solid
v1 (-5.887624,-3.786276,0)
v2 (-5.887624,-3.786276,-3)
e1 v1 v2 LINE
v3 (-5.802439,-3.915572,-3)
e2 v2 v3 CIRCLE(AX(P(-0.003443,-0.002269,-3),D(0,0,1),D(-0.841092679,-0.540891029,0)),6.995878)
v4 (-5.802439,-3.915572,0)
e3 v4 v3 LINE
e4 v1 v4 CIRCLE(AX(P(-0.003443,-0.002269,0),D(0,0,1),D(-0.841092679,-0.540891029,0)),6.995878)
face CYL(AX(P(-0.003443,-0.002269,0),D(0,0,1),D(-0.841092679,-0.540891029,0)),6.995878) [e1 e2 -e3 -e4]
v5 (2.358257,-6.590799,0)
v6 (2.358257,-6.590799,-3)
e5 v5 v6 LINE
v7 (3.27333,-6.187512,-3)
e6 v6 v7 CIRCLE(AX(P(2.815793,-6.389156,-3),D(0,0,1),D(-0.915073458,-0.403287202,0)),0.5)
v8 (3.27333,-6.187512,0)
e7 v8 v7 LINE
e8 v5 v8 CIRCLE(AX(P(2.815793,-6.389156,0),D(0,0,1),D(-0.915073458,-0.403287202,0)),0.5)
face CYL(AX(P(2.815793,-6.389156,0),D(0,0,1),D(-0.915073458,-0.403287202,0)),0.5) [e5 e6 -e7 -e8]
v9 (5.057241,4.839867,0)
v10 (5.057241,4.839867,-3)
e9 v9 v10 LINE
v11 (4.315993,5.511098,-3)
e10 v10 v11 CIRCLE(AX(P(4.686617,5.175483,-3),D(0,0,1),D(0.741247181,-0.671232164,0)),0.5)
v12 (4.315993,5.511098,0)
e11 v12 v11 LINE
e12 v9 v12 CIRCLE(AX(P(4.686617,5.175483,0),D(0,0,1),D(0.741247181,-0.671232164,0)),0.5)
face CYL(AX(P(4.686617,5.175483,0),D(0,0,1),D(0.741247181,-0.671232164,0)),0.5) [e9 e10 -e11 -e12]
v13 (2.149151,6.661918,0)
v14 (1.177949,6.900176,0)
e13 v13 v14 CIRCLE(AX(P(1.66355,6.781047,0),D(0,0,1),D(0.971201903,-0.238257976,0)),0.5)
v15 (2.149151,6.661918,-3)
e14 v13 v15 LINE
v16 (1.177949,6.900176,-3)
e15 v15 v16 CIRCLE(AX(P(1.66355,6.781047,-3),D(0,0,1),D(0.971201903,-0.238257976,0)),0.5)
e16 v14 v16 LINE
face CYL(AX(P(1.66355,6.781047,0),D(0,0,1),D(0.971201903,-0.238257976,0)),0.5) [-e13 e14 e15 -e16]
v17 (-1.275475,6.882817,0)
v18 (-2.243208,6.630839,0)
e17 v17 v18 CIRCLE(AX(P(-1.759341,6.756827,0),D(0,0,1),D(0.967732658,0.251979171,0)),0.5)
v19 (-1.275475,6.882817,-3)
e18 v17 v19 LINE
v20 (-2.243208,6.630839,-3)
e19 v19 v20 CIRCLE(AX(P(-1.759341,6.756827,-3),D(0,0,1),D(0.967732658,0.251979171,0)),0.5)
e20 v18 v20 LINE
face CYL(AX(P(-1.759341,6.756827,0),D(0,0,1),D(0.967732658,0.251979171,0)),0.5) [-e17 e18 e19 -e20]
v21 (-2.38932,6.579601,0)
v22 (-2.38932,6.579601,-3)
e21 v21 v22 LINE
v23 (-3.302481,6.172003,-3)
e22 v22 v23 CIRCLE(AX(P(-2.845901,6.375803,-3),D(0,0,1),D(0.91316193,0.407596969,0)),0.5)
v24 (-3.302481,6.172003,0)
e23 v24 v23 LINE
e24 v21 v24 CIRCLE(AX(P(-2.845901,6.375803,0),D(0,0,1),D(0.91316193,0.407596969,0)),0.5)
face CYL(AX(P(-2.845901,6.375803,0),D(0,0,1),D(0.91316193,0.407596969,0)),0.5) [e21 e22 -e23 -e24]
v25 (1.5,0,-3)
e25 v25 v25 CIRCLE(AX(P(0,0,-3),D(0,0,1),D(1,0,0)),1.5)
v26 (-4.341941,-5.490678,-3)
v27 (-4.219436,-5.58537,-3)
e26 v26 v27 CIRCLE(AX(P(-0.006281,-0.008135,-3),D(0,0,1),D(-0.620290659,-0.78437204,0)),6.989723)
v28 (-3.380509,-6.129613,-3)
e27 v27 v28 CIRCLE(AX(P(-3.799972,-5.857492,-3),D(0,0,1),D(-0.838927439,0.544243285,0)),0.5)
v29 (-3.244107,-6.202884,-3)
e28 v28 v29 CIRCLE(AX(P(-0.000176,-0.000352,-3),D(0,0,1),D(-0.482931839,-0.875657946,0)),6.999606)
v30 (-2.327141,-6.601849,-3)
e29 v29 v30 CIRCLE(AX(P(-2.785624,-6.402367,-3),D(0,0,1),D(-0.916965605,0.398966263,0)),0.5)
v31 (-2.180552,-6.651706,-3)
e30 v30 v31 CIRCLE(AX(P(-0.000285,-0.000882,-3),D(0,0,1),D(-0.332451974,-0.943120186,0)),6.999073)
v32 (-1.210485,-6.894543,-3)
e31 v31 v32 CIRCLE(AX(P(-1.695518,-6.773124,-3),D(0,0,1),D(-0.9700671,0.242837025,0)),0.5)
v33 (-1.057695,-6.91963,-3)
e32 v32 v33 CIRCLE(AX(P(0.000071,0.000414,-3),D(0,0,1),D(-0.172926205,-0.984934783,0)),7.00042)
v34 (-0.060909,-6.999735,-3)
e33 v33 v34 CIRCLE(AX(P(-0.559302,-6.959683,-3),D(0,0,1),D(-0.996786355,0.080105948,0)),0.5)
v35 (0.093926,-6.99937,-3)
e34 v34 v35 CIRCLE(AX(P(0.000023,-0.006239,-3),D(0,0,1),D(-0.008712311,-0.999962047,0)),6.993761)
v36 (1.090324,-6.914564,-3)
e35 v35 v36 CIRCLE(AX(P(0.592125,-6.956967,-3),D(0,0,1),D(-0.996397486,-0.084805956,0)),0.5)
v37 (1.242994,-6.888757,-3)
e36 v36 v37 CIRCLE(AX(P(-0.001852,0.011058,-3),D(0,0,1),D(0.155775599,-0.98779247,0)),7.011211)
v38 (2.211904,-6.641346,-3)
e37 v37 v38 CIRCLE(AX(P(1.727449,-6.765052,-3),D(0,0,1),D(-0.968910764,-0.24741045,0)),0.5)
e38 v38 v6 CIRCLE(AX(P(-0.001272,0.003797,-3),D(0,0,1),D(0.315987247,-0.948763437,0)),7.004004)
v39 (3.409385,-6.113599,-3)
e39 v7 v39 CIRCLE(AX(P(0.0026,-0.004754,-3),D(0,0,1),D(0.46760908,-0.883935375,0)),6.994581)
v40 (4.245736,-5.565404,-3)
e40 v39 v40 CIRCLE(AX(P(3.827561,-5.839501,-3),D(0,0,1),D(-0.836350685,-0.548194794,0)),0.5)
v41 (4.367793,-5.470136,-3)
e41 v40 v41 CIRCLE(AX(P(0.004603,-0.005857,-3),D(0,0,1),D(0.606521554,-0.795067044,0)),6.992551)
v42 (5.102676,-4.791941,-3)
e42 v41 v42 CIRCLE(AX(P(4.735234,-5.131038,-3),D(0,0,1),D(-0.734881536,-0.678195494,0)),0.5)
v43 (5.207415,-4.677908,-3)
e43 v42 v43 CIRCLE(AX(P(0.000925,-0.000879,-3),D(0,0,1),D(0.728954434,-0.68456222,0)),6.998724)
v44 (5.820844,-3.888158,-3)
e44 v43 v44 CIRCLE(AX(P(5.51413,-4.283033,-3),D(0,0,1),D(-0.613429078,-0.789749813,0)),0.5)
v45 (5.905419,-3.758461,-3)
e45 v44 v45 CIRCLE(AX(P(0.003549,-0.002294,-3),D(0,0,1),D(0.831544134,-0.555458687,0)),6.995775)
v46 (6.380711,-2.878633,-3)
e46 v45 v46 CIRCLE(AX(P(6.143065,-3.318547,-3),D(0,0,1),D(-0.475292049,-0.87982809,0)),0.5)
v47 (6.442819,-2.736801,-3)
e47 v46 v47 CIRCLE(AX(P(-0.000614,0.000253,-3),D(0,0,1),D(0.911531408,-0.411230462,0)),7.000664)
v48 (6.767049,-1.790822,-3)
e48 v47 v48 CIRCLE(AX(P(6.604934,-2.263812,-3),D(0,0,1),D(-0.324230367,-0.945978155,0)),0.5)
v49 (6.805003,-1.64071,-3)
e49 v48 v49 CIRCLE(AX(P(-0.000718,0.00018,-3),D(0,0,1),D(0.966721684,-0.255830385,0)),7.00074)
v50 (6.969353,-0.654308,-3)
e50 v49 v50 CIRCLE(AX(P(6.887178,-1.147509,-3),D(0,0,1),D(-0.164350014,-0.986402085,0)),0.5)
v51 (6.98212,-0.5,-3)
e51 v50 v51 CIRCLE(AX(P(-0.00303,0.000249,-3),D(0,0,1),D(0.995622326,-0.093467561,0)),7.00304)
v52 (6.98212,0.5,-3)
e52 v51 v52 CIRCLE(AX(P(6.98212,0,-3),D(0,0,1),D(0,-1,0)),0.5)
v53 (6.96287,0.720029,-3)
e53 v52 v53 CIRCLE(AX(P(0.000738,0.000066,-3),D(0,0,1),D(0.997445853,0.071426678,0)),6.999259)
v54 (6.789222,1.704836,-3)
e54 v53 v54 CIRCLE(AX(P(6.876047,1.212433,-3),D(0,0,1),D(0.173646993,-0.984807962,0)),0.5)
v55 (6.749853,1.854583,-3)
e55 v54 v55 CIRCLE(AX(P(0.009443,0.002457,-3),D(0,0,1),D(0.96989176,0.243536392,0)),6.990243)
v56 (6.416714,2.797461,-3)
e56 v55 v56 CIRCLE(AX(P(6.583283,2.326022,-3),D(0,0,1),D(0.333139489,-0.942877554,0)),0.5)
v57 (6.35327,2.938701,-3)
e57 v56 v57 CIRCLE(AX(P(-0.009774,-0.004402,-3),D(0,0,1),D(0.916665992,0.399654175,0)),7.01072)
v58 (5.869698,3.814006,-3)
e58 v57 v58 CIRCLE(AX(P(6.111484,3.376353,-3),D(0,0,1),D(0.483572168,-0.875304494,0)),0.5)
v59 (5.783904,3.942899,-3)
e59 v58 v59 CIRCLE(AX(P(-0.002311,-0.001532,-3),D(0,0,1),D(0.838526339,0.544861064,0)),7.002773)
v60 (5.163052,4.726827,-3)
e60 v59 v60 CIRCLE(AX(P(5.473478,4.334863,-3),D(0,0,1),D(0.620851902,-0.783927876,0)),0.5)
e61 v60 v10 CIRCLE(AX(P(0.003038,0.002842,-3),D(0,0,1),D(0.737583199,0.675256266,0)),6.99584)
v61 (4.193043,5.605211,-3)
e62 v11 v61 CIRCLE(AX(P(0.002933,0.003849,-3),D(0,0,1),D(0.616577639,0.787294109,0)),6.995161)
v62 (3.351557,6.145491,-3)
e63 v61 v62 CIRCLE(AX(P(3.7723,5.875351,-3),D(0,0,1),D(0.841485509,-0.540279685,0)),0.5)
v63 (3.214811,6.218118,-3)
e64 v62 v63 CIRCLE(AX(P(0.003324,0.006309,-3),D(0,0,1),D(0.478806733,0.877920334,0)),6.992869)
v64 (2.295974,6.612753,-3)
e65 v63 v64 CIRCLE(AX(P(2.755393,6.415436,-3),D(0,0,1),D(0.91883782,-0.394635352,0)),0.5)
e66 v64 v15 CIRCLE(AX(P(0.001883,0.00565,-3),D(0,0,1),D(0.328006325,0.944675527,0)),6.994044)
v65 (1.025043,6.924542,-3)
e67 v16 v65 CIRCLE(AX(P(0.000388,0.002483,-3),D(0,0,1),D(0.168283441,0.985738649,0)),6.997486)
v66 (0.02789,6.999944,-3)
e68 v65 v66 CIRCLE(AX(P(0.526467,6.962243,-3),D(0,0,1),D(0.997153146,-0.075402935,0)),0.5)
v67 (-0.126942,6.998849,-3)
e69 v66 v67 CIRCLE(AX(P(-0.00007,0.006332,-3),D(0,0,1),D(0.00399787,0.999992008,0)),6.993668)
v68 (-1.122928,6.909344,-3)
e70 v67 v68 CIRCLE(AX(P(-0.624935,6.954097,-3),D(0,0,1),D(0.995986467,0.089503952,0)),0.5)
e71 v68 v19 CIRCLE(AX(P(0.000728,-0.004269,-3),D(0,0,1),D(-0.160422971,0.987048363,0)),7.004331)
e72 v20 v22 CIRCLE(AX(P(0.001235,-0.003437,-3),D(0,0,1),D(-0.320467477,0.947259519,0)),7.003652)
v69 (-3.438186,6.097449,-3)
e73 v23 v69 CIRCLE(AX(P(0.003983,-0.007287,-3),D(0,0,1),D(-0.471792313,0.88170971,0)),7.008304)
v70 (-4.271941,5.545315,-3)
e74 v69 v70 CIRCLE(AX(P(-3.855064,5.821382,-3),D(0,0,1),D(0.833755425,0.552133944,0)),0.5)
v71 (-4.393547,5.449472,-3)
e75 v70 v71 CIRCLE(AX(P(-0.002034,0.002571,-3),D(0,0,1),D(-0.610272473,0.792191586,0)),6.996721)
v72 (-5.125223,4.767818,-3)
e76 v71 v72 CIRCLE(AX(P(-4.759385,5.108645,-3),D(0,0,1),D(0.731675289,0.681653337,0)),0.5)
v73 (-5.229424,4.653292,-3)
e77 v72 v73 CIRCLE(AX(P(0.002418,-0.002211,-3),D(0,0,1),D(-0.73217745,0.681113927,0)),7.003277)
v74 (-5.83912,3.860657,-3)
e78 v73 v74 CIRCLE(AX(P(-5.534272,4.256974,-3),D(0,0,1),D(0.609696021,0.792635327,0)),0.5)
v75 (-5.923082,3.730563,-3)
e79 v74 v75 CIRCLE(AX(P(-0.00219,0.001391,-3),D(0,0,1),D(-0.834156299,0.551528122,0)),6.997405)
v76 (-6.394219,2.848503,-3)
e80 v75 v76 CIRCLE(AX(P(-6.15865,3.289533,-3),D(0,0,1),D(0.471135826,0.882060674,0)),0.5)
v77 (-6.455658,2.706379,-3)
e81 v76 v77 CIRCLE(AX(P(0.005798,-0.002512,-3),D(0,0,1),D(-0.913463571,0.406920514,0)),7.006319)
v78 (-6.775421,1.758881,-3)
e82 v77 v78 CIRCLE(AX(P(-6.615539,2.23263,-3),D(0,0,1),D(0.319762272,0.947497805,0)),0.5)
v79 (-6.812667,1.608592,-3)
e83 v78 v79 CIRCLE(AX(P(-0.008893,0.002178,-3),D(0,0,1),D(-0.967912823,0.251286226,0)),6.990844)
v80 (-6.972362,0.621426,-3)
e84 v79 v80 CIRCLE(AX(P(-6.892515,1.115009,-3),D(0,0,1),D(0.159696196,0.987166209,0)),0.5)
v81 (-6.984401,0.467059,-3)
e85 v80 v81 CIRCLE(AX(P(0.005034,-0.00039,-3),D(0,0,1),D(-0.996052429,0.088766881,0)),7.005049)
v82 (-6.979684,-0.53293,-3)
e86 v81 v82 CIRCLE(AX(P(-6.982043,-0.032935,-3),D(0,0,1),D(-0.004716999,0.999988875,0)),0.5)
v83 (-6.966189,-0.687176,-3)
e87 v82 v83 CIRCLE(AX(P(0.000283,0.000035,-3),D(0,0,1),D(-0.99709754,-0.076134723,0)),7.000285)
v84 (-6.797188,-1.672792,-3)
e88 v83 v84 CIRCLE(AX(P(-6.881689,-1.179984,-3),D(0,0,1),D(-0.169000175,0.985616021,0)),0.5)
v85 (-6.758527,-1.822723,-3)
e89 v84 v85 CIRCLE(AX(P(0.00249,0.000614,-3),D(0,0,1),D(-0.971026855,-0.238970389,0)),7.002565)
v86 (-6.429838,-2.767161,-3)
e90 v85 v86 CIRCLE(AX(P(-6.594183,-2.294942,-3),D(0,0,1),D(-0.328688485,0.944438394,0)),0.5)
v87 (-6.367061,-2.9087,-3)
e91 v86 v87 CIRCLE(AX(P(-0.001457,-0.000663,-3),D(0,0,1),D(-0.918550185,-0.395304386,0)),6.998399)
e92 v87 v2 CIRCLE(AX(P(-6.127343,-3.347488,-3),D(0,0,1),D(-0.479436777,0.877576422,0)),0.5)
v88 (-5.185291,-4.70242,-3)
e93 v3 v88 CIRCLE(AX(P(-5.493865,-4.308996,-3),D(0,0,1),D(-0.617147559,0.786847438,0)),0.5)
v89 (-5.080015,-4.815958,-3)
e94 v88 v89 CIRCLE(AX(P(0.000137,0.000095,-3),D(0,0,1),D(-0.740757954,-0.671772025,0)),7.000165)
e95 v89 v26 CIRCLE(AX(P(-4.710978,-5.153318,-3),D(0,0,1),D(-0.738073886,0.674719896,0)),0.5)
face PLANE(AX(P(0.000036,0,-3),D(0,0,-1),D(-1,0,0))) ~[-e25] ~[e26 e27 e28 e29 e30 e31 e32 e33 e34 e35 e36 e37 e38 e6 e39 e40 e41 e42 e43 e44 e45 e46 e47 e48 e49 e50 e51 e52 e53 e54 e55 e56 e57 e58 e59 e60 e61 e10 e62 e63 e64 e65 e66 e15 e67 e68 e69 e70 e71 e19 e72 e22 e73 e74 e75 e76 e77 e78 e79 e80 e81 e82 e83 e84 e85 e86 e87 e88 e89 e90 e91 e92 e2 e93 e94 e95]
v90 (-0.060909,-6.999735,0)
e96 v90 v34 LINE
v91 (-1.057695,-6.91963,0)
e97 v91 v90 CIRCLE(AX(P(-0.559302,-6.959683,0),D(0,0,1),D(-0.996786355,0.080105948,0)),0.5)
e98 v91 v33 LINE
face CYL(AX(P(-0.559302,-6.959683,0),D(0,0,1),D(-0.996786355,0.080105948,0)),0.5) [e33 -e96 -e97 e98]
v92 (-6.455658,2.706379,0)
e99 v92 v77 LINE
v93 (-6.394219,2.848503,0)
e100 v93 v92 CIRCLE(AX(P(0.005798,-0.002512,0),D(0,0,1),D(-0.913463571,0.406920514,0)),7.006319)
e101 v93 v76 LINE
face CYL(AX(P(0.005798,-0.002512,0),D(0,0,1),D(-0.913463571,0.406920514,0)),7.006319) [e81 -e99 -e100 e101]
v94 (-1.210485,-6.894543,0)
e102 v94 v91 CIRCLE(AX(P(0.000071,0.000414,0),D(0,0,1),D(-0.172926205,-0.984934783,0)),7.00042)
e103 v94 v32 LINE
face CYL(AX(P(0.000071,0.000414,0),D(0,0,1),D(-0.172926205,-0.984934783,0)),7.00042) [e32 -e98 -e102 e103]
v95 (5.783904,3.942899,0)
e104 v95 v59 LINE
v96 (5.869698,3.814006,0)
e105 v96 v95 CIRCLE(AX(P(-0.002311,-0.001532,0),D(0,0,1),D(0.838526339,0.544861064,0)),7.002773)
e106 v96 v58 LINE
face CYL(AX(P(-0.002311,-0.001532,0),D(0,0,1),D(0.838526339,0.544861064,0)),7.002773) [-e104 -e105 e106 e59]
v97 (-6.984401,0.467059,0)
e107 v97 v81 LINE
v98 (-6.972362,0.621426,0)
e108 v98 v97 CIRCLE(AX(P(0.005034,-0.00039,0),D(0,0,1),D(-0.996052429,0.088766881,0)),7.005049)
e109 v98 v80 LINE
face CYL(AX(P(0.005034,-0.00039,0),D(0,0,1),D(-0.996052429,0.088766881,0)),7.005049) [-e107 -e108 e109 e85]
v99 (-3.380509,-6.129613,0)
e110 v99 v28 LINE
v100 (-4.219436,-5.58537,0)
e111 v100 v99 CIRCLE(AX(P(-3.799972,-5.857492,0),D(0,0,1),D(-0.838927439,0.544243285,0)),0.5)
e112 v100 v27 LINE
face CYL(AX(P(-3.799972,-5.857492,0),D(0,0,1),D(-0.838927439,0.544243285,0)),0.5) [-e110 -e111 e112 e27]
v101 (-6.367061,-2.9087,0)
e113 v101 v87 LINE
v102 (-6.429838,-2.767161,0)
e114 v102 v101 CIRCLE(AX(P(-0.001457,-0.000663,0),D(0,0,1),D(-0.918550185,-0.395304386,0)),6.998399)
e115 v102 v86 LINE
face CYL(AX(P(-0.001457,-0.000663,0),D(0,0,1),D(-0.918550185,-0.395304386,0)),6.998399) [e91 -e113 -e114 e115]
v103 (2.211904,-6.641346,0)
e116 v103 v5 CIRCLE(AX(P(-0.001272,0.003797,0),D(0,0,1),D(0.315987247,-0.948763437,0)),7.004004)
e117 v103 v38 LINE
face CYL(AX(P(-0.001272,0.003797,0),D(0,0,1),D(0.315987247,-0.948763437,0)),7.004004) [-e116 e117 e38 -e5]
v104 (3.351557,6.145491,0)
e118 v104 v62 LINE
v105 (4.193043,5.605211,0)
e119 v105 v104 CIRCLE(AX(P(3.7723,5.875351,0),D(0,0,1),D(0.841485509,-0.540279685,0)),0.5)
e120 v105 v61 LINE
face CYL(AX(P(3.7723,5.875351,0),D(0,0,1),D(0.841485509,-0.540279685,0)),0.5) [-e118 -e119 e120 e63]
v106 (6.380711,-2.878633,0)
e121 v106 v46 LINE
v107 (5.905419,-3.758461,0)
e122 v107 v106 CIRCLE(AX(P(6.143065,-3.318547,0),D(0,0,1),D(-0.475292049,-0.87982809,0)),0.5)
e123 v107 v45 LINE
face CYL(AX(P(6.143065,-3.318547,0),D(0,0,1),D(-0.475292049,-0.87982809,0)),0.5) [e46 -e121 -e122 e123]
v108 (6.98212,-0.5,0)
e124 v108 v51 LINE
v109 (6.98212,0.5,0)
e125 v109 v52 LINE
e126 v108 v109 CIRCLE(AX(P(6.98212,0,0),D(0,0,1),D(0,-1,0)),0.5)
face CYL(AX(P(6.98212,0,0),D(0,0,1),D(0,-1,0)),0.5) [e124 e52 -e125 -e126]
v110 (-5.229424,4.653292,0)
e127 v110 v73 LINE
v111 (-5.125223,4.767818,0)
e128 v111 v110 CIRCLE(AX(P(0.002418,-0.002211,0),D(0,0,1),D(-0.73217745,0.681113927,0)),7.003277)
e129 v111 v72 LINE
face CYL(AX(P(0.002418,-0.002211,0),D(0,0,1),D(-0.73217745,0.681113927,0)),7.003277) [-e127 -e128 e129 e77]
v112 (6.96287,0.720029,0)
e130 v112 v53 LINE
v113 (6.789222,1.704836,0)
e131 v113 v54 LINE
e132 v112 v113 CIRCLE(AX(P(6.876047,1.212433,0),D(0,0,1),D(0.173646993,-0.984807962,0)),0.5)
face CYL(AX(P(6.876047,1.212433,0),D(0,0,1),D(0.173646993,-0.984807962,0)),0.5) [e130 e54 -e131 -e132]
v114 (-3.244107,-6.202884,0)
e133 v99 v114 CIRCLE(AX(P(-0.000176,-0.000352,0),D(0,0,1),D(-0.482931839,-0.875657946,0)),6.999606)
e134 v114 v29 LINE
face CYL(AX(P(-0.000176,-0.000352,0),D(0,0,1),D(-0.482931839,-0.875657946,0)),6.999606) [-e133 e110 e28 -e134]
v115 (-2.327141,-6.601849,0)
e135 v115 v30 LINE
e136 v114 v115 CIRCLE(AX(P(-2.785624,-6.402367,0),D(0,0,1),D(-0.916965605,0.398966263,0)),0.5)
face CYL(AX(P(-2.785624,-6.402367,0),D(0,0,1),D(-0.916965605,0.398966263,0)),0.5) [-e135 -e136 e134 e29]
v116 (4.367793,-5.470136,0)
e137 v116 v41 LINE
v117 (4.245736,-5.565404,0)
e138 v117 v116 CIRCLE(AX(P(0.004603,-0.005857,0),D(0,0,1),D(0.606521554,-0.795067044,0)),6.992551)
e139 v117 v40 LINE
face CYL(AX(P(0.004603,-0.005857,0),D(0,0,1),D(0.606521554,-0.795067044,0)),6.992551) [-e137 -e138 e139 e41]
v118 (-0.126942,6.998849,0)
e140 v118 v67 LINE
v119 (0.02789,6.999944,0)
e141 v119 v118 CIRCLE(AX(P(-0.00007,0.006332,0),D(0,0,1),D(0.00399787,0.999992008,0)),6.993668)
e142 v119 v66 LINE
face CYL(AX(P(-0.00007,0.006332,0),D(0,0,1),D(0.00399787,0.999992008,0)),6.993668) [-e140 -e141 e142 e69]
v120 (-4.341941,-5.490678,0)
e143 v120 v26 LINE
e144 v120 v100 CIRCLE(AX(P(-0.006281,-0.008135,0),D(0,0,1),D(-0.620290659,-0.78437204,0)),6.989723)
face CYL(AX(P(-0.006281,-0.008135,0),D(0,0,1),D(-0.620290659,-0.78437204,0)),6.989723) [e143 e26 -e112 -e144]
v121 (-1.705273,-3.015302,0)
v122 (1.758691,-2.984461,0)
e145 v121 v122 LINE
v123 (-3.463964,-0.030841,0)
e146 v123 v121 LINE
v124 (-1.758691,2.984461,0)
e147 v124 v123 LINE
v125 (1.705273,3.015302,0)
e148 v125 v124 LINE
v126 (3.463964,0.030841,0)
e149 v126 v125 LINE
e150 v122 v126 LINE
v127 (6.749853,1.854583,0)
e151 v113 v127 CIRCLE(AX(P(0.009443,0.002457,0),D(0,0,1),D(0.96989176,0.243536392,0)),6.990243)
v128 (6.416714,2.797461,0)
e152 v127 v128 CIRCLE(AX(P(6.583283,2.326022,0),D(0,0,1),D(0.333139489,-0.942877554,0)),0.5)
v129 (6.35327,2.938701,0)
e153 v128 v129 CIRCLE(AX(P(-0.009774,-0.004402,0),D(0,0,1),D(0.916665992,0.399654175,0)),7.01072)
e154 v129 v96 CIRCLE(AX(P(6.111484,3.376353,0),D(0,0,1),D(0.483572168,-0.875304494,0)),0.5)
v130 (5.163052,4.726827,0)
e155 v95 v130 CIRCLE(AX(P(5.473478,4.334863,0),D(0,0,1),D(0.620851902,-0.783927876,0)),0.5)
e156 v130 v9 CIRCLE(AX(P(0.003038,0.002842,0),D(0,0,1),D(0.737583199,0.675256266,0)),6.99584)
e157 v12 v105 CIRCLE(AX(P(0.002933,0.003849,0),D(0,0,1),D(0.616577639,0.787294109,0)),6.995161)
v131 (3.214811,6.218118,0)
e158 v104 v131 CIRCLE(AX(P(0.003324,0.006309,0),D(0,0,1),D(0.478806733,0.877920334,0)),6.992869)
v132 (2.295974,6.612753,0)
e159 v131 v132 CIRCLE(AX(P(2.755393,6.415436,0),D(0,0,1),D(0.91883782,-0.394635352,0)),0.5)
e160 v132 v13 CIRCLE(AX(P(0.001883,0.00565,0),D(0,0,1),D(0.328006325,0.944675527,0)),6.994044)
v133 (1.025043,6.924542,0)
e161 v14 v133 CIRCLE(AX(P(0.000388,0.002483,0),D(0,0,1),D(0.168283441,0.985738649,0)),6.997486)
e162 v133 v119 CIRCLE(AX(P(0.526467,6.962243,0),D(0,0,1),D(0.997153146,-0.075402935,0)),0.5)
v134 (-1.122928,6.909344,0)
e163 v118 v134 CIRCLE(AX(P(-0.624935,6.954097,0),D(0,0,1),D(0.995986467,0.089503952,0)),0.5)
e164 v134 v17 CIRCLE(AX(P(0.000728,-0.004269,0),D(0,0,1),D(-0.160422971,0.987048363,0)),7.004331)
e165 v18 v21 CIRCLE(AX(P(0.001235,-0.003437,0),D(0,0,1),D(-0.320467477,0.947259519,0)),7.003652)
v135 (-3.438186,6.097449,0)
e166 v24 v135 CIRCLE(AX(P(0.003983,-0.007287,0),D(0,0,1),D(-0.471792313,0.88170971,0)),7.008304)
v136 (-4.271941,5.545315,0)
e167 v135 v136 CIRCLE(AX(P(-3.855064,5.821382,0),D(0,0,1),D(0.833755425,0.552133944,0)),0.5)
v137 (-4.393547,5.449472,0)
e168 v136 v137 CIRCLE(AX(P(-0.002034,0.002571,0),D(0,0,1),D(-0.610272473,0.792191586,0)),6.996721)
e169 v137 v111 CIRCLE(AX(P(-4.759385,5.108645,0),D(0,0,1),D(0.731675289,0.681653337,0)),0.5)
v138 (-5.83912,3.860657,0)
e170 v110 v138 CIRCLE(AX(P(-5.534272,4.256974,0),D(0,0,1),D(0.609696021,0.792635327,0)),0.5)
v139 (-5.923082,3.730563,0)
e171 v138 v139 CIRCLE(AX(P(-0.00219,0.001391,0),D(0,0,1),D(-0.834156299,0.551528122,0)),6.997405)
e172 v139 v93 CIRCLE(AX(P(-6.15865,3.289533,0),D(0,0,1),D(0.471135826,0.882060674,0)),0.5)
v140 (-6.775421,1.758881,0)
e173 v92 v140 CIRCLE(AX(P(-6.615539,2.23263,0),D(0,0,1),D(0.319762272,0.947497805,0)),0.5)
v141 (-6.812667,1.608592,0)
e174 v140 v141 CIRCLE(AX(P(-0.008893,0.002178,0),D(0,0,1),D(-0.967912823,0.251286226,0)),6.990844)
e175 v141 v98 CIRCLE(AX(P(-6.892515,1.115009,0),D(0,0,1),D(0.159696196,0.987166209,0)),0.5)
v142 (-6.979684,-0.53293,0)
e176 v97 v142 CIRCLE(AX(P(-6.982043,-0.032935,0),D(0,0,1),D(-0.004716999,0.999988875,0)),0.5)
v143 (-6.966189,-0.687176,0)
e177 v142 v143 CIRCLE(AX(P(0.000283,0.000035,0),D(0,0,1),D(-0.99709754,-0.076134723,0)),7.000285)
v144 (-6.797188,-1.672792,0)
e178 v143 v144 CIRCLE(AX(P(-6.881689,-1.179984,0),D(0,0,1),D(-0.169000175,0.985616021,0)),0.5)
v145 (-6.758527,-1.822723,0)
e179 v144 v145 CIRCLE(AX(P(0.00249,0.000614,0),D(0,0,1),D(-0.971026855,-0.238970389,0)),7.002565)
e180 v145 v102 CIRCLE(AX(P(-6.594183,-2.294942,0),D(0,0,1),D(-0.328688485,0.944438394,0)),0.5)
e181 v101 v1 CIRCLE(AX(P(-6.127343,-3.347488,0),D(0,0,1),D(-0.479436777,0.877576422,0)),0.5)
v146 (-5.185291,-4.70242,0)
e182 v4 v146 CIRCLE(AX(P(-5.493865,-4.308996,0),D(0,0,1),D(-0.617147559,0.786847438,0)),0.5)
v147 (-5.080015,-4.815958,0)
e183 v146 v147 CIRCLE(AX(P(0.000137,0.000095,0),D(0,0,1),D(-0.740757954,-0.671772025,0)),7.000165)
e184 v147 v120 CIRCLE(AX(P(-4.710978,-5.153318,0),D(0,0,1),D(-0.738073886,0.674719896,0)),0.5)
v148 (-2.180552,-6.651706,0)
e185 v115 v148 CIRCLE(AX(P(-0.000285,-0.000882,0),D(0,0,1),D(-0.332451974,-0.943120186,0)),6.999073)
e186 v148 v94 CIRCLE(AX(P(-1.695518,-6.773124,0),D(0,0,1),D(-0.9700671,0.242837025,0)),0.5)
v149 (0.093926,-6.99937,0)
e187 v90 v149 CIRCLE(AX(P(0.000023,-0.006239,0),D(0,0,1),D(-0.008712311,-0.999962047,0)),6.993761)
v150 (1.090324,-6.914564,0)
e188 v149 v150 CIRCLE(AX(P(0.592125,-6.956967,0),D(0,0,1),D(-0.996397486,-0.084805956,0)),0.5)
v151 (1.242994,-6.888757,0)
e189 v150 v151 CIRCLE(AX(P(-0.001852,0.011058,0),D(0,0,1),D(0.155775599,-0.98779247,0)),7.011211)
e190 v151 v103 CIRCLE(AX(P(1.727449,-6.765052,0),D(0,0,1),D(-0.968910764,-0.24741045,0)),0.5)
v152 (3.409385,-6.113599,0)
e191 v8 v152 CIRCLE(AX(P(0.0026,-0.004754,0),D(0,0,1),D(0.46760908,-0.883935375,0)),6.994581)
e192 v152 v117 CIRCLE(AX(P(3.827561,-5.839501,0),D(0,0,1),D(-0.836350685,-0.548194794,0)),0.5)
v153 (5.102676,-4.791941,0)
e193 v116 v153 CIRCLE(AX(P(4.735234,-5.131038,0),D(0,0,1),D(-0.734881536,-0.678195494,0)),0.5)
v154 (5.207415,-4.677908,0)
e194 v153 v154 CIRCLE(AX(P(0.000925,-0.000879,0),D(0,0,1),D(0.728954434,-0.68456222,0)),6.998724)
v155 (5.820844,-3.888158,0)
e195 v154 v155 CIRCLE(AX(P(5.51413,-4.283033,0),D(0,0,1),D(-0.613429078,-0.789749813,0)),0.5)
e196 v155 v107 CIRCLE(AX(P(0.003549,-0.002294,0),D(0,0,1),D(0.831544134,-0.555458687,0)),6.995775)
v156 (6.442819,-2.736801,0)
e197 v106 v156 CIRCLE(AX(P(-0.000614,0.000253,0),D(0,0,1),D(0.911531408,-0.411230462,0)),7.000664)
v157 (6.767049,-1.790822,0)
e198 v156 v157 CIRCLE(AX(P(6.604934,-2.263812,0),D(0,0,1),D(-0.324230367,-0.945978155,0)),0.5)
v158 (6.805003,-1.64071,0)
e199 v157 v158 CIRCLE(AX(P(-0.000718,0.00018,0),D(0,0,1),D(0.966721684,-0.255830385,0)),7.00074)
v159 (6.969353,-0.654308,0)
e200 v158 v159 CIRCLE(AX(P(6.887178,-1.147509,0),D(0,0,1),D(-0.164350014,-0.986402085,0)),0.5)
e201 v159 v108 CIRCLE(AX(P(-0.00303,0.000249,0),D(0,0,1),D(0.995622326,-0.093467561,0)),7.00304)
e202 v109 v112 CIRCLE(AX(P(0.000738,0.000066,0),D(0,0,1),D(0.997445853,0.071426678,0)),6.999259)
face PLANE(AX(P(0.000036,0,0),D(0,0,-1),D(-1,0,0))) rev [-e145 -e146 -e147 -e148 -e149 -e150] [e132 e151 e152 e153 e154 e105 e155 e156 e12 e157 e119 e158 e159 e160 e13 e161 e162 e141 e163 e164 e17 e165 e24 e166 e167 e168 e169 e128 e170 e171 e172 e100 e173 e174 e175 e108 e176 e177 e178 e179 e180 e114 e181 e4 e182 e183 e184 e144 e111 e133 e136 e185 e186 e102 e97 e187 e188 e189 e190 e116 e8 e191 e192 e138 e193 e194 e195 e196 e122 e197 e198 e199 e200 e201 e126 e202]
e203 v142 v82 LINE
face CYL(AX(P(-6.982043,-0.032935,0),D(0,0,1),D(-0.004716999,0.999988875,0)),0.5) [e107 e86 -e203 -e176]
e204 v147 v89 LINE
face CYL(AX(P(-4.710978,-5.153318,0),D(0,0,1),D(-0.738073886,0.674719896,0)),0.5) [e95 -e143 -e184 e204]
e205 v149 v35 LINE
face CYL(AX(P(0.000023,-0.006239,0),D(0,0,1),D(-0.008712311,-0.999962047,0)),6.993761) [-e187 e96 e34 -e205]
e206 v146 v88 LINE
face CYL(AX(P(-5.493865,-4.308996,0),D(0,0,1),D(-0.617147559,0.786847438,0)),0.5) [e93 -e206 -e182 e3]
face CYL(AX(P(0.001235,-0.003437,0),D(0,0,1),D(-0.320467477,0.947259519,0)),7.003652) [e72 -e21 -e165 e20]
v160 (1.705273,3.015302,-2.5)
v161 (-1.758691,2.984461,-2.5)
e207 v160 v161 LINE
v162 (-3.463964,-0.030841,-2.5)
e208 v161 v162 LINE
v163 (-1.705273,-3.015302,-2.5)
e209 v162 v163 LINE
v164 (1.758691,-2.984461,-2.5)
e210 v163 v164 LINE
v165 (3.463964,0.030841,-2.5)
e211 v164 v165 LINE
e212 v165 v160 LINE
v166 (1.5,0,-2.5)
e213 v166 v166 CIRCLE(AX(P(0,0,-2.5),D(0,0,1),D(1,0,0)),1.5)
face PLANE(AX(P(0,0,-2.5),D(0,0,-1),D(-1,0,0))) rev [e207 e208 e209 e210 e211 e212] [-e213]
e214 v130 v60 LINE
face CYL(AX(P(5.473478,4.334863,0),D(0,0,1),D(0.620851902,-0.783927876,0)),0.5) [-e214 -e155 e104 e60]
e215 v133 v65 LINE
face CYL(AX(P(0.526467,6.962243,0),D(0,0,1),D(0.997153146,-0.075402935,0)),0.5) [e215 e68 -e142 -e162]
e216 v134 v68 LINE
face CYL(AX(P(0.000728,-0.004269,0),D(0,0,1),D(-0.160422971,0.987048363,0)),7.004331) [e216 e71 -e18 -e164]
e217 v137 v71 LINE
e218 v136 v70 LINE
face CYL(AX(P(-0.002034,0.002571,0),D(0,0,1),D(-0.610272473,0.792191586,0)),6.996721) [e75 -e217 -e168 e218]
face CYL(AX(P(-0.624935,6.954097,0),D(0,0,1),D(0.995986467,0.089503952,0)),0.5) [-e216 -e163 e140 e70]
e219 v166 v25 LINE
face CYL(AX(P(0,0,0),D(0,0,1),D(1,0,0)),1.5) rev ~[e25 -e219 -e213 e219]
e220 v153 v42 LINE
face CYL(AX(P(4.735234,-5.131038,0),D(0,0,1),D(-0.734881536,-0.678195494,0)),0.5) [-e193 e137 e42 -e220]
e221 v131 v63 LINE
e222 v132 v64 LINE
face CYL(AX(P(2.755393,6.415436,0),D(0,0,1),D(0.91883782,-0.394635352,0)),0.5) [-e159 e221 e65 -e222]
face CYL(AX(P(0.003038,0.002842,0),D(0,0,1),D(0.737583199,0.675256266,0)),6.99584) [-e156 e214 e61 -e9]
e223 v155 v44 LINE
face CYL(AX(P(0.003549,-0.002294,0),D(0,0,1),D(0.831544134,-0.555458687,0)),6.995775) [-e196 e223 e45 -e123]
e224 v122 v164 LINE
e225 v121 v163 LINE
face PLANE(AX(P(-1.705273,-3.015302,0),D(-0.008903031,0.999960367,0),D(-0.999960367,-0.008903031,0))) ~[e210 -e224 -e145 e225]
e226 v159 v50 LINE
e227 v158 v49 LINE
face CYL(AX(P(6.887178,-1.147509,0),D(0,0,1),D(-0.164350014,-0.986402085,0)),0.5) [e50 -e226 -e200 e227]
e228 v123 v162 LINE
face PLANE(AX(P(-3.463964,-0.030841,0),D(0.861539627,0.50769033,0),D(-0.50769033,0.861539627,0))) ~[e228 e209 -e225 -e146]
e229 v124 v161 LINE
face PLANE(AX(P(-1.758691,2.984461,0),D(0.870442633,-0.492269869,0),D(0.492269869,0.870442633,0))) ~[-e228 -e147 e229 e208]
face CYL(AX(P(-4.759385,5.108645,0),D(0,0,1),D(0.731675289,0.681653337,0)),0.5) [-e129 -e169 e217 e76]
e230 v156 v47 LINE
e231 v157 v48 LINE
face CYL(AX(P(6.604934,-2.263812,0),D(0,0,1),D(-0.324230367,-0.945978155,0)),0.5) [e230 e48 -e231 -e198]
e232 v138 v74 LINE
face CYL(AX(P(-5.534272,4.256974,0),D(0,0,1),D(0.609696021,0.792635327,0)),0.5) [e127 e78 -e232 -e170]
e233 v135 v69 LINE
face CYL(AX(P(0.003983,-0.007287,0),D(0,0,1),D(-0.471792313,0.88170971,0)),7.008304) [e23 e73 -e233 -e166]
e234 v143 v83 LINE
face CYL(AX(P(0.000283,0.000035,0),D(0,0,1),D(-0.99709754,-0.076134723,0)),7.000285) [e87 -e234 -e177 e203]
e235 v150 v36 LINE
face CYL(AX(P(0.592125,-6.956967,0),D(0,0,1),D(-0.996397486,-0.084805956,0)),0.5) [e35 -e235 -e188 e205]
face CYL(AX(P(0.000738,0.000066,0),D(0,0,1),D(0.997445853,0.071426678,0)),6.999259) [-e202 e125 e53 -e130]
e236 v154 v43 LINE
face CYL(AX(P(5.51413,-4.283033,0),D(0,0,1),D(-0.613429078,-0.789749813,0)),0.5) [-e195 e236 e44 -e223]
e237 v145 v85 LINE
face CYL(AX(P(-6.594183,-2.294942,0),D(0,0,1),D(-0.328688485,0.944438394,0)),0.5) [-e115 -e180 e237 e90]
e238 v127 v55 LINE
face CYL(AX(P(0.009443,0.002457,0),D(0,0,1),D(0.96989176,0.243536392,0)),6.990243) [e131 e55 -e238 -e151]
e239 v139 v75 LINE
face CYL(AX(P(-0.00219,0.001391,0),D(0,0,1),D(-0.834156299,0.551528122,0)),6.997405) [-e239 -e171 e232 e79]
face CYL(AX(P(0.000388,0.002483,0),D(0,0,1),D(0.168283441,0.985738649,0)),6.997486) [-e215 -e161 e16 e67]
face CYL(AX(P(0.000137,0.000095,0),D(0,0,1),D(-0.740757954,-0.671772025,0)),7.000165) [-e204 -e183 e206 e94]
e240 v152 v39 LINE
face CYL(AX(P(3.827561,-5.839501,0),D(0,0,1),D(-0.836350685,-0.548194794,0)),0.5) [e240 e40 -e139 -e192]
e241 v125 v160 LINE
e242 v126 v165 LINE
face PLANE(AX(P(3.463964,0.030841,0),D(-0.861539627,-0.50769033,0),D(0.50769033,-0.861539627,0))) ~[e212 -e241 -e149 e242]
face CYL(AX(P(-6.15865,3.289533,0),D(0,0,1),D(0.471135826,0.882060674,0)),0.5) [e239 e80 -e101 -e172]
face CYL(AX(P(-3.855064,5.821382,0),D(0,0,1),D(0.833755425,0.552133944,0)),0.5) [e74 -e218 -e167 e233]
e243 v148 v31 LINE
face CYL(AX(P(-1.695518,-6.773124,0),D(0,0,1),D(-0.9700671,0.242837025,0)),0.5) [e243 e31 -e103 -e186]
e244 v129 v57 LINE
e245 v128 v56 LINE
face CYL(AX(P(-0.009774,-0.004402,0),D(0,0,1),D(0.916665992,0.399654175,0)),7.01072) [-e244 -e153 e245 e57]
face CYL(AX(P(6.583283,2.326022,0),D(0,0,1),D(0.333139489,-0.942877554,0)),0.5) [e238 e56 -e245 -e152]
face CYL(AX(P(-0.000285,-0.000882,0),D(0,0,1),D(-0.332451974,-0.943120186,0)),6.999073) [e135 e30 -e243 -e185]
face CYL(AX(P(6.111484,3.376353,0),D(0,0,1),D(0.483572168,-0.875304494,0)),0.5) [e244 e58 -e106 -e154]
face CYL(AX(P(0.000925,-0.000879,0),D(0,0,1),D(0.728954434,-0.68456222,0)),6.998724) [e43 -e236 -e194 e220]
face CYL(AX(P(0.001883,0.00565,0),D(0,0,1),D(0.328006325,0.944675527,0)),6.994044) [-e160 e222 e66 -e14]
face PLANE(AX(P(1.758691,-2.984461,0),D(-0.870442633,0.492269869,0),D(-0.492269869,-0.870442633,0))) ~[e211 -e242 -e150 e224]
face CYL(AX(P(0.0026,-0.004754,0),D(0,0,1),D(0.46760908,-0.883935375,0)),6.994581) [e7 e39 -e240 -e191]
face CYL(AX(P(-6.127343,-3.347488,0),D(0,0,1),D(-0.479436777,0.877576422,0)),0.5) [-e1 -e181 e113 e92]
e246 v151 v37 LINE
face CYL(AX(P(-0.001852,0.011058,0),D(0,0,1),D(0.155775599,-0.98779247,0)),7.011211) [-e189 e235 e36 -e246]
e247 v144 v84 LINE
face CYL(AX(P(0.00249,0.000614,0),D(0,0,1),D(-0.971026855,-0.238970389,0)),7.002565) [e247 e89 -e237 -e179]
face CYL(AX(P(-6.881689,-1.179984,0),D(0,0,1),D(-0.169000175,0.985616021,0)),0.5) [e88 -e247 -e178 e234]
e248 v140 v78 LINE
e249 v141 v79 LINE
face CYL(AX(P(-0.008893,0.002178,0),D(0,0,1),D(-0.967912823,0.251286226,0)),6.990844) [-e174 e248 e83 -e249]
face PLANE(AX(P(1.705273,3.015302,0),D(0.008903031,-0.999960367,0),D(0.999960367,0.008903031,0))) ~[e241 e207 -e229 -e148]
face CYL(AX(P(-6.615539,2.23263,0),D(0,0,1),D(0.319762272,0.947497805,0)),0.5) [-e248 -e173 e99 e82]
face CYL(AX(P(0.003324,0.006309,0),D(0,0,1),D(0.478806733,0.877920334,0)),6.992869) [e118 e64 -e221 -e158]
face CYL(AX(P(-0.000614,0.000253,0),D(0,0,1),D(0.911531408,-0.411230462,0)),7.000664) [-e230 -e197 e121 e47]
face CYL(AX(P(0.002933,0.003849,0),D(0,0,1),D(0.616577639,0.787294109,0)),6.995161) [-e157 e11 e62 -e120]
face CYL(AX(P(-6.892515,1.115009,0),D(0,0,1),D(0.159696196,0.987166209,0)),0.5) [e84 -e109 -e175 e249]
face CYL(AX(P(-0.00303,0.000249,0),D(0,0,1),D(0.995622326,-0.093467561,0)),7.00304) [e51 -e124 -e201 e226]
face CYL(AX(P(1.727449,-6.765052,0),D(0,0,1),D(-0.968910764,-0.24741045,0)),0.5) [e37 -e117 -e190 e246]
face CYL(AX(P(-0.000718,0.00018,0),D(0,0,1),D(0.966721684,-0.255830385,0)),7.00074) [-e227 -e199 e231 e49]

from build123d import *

# Parameters (mm, degrees)
F0_R     = 1.5
F1_DEPTH = 3
F2_DEPTH = 2.5


with BuildPart() as f1:
    # F0 (on Top) → F1 (new body)
    with BuildSketch(Plane.XY):
        with BuildLine():
            ThreePointArc((6.98212, -0.5), (6.995529, -0.25016), (7, 0))
            ThreePointArc((7, 0), (6.995529, 0.25016), (6.98212, 0.5))
            ThreePointArc((6.98212, 0.5), (6.973363, 0.61009), (6.96287, 0.720029))
            ThreePointArc((6.96287, 0.720029), (6.893654, 1.215537), (6.789222, 1.704836))
            ThreePointArc((6.789222, 1.704836), (6.769952, 1.779819), (6.749853, 1.854583))
            ThreePointArc((6.749853, 1.854583), (6.600142, 2.331979), (6.416714, 2.797461))
            ThreePointArc((6.416714, 2.797461), (6.385382, 2.868256), (6.35327, 2.938701))
            ThreePointArc((6.35327, 2.938701), (6.127134, 3.385), (5.869698, 3.814006))
            ThreePointArc((5.869698, 3.814006), (5.827157, 3.87869), (5.783904, 3.942899))
            ThreePointArc((5.783904, 3.942899), (5.487495, 4.345964), (5.163052, 4.726827))
            ThreePointArc((5.163052, 4.726827), (5.110459, 4.78364), (5.057241, 4.839867))
            ThreePointArc((5.057241, 4.839867), (4.698619, 5.188736), (4.315993, 5.511098))
            ThreePointArc((4.315993, 5.511098), (4.254778, 5.558495), (4.193043, 5.605211))
            ThreePointArc((4.193043, 5.605211), (3.78196, 5.890397), (3.351557, 6.145491))
            ThreePointArc((3.351557, 6.145491), (3.283385, 6.182183), (3.214811, 6.218118))
            ThreePointArc((3.214811, 6.218118), (2.762449, 6.431864), (2.295974, 6.612753))
            ThreePointArc((2.295974, 6.612753), (2.222698, 6.637742), (2.149151, 6.661918))
            ThreePointArc((2.149151, 6.661918), (1.66781, 6.798412), (1.177949, 6.900176))
            ThreePointArc((1.177949, 6.900176), (1.101563, 6.912782), (1.025043, 6.924542))
            ThreePointArc((1.025043, 6.924542), (0.527814, 6.980072), (0.02789, 6.999944))
            ThreePointArc((0.02789, 6.999944), (-0.049529, 6.999825), (-0.126942, 6.998849))
            ThreePointArc((-0.126942, 6.998849), (-0.626536, 6.971905), (-1.122928, 6.909344))
            ThreePointArc((-1.122928, 6.909344), (-1.199275, 6.896502), (-1.275475, 6.882817))
            ThreePointArc((-1.275475, 6.882817), (-1.763846, 6.774131), (-2.243208, 6.630839))
            ThreePointArc((-2.243208, 6.630839), (-2.316405, 6.605624), (-2.38932, 6.579601))
            ThreePointArc((-2.38932, 6.579601), (-2.853188, 6.392129), (-3.302481, 6.172003))
            ThreePointArc((-3.302481, 6.172003), (-3.370539, 6.135101), (-3.438186, 6.097449))
            ThreePointArc((-3.438186, 6.097449), (-3.864936, 5.836289), (-4.271941, 5.545315))
            ThreePointArc((-4.271941, 5.545315), (-4.333009, 5.49773), (-4.393547, 5.449472))
            ThreePointArc((-4.393547, 5.449472), (-4.771573, 5.121727), (-5.125223, 4.767818))
            ThreePointArc((-5.125223, 4.767818), (-5.17764, 4.710843), (-5.229424, 4.653292))
            ThreePointArc((-5.229424, 4.653292), (-5.548444, 4.267876), (-5.83912, 3.860657))
            ThreePointArc((-5.83912, 3.860657), (-5.881461, 3.795842), (-5.923082, 3.730563))
            ThreePointArc((-5.923082, 3.730563), (-6.174421, 3.297957), (-6.394219, 2.848503))
            ThreePointArc((-6.394219, 2.848503), (-6.425331, 2.777611), (-6.455658, 2.706379))
            ThreePointArc((-6.455658, 2.706379), (-6.632481, 2.238347), (-6.775421, 1.758881))
            ThreePointArc((-6.775421, 1.758881), (-6.79446, 1.68384), (-6.812667, 1.608592))
            ThreePointArc((-6.812667, 1.608592), (-6.910165, 1.117864), (-6.972362, 0.621426))
            ThreePointArc((-6.972362, 0.621426), (-6.978808, 0.544276), (-6.984401, 0.467059))
            ThreePointArc((-6.984401, 0.467059), (-6.999922, -0.03302), (-6.979684, -0.53293))
            ThreePointArc((-6.979684, -0.53293), (-6.973363, -0.61009), (-6.966189, -0.687176))
            ThreePointArc((-6.966189, -0.687176), (-6.899311, -1.183006), (-6.797188, -1.672792))
            ThreePointArc((-6.797188, -1.672792), (-6.778272, -1.747864), (-6.758527, -1.822723))
            ThreePointArc((-6.758527, -1.822723), (-6.611069, -2.300819), (-6.429838, -2.767161))
            ThreePointArc((-6.429838, -2.767161), (-6.398841, -2.838104), (-6.367061, -2.9087))
            ThreePointArc((-6.367061, -2.9087), (-6.143033, -3.35606), (-5.887624, -3.786276))
            ThreePointArc((-5.887624, -3.786276), (-5.845389, -3.85116), (-5.802439, -3.915572))
            ThreePointArc((-5.802439, -3.915572), (-5.507934, -4.320031), (-5.185291, -4.70242))
            ThreePointArc((-5.185291, -4.70242), (-5.132967, -4.75948), (-5.080015, -4.815958))
            ThreePointArc((-5.080015, -4.815958), (-4.723042, -5.166515), (-4.341941, -5.490678))
            ThreePointArc((-4.341941, -5.490678), (-4.280951, -5.538363), (-4.219436, -5.58537))
            ThreePointArc((-4.219436, -5.58537), (-3.809704, -5.872492), (-3.380509, -6.129613))
            ThreePointArc((-3.380509, -6.129613), (-3.31251, -6.166626), (-3.244107, -6.202884))
            ThreePointArc((-3.244107, -6.202884), (-2.792757, -6.418762), (-2.327141, -6.601849))
            ThreePointArc((-2.327141, -6.601849), (-2.253984, -6.627183), (-2.180552, -6.651706))
            ThreePointArc((-2.180552, -6.651706), (-1.69986, -6.790469), (-1.210485, -6.894543))
            ThreePointArc((-1.210485, -6.894543), (-1.134159, -6.907509), (-1.057695, -6.91963))
            ThreePointArc((-1.057695, -6.91963), (-0.560734, -6.977505), (-0.060909, -6.999735))
            ThreePointArc((-0.060909, -6.999735), (0.01651, -6.999981), (0.093926, -6.99937))
            ThreePointArc((0.093926, -6.99937), (0.593641, -6.974782), (1.090324, -6.914564))
            ThreePointArc((1.090324, -6.914564), (1.16673, -6.902082), (1.242994, -6.888757))
            ThreePointArc((1.242994, -6.888757), (1.731873, -6.782375), (2.211904, -6.641346))
            ThreePointArc((2.211904, -6.641346), (2.28522, -6.616477), (2.358257, -6.590799))
            ThreePointArc((2.358257, -6.590799), (2.823004, -6.405517), (3.27333, -6.187512))
            ThreePointArc((3.27333, -6.187512), (3.341562, -6.150932), (3.409385, -6.113599))
            ThreePointArc((3.409385, -6.113599), (3.837362, -5.854456), (4.245736, -5.565404))
            ThreePointArc((4.245736, -5.565404), (4.307028, -5.518108), (4.367793, -5.470136))
            ThreePointArc((4.367793, -5.470136), (4.74736, -5.144178), (5.102676, -4.791941))
            ThreePointArc((5.102676, -4.791941), (5.155361, -4.735214), (5.207415, -4.677908))
            ThreePointArc((5.207415, -4.677908), (5.528251, -4.294001), (5.820844, -3.888158))
            ThreePointArc((5.820844, -3.888158), (5.86349, -3.823544), (5.905419, -3.758461))
            ThreePointArc((5.905419, -3.758461), (6.158796, -3.327046), (6.380711, -2.878633))
            ThreePointArc((6.380711, -2.878633), (6.412157, -2.807889), (6.442819, -2.736801))
            ThreePointArc((6.442819, -2.736801), (6.621848, -2.269609), (6.767049, -1.790822))
            ThreePointArc((6.767049, -1.790822), (6.786441, -1.715871), (6.805003, -1.64071))
            ThreePointArc((6.805003, -1.64071), (6.904815, -1.150448), (6.969353, -0.654308))
            ThreePointArc((6.969353, -0.654308), (6.976163, -0.577189), (6.98212, -0.5))
        make_face()
        Polygon((1.705273, 3.015302), (3.463964, 0.030841), (1.758691, -2.984461), (-1.705273, -3.015302), (-3.463964, -0.030841), (-1.758691, 2.984461), align=None, mode=Mode.SUBTRACT)
        with BuildLine():
            ThreePointArc((6.98212, 0.5), (6.995529, 0.25016), (7, 0))
            ThreePointArc((7, 0), (6.995529, -0.25016), (6.98212, -0.5))
            ThreePointArc((6.98212, -0.5), (7.48212, 0), (6.98212, 0.5))
        make_face()
        with BuildLine():
            ThreePointArc((6.789222, 1.704836), (6.893654, 1.215537), (6.96287, 0.720029))
            ThreePointArc((6.96287, 0.720029), (7.36845, 1.299257), (6.789222, 1.704836))
        make_face()
        with BuildLine():
            ThreePointArc((6.805003, -1.64071), (7.380379, -1.229684), (6.969353, -0.654308))
            ThreePointArc((6.969353, -0.654308), (6.904815, -1.150448), (6.805003, -1.64071))
        make_face()
        with BuildLine():
            ThreePointArc((6.416714, 2.797461), (6.600142, 2.331979), (6.749853, 1.854583))
            ThreePointArc((6.749853, 1.854583), (7.054722, 2.492592), (6.416714, 2.797461))
        make_face()
        with BuildLine():
            ThreePointArc((6.442819, -2.736801), (7.077924, -2.425926), (6.767049, -1.790822))
            ThreePointArc((6.767049, -1.790822), (6.621848, -2.269609), (6.442819, -2.736801))
        make_face()
        with BuildLine():
            ThreePointArc((5.869698, 3.814006), (6.127134, 3.385), (6.35327, 2.938701))
            ThreePointArc((6.35327, 2.938701), (6.549136, 3.61814), (5.869698, 3.814006))
        make_face()
        with BuildLine():
            ThreePointArc((5.905419, -3.758461), (6.582979, -3.556193), (6.380711, -2.878633))
            ThreePointArc((6.380711, -2.878633), (6.158796, -3.327046), (5.905419, -3.758461))
        make_face()
        with BuildLine():
            ThreePointArc((5.163052, 4.726827), (5.487495, 4.345964), (5.783904, 3.942899))
            ThreePointArc((5.783904, 3.942899), (5.865442, 4.645289), (5.163052, 4.726827))
        make_face()
        with BuildLine():
            ThreePointArc((5.207415, -4.677908), (5.909005, -4.589747), (5.820844, -3.888158))
            ThreePointArc((5.820844, -3.888158), (5.528251, -4.294001), (5.207415, -4.677908))
        make_face()
        with BuildLine():
            ThreePointArc((4.315993, 5.511098), (4.698619, 5.188736), (5.057241, 4.839867))
            ThreePointArc((5.057241, 4.839867), (5.022233, 5.546107), (4.315993, 5.511098))
        make_face()
        with BuildLine():
            ThreePointArc((4.367793, -5.470136), (5.074331, -5.49848), (5.102676, -4.791941))
            ThreePointArc((5.102676, -4.791941), (4.74736, -5.144178), (4.367793, -5.470136))
        make_face()
        with BuildLine():
            ThreePointArc((3.351557, 6.145491), (3.78196, 5.890397), (4.193043, 5.605211))
            ThreePointArc((4.193043, 5.605211), (4.04244, 6.296094), (3.351557, 6.145491))
        make_face()
        with BuildLine():
            ThreePointArc((3.409385, -6.113599), (4.101658, -6.257677), (4.245736, -5.565404))
            ThreePointArc((4.245736, -5.565404), (3.837362, -5.854456), (3.409385, -6.113599))
        make_face()
        with BuildLine():
            ThreePointArc((2.295974, 6.612753), (2.762449, 6.431864), (3.214811, 6.218118))
            ThreePointArc((3.214811, 6.218118), (2.95271, 6.874854), (2.295974, 6.612753))
        make_face()
        with BuildLine():
            ThreePointArc((2.358257, -6.590799), (3.017437, -6.846692), (3.27333, -6.187512))
            ThreePointArc((3.27333, -6.187512), (2.823004, -6.405517), (2.358257, -6.590799))
        make_face()
        with BuildLine():
            ThreePointArc((1.177949, 6.900176), (1.66781, 6.798412), (2.149151, 6.661918))
            ThreePointArc((2.149151, 6.661918), (1.782679, 7.266648), (1.177949, 6.900176))
        make_face()
        with BuildLine():
            ThreePointArc((1.242994, -6.888757), (1.851154, -7.249507), (2.211904, -6.641346))
            ThreePointArc((2.211904, -6.641346), (1.731873, -6.782375), (1.242994, -6.888757))
        make_face()
        with BuildLine():
            ThreePointArc((0.02789, 6.999944), (0.527814, 6.980072), (1.025043, 6.924542))
            ThreePointArc((1.025043, 6.924542), (0.564167, 7.46082), (0.02789, 6.999944))
        make_face()
        with BuildLine():
            ThreePointArc((0.093926, -6.99937), (0.634528, -7.455166), (1.090324, -6.914564))
            ThreePointArc((1.090324, -6.914564), (0.593641, -6.974782), (0.093926, -6.99937))
        make_face()
        with BuildLine():
            ThreePointArc((-1.122928, 6.909344), (-0.626536, 6.971905), (-0.126942, 6.998849))
            ThreePointArc((-0.126942, 6.998849), (-0.669688, 7.45209), (-1.122928, 6.909344))
        make_face()
        with BuildLine():
            ThreePointArc((-1.057695, -6.91963), (-0.599354, -7.458076), (-0.060909, -6.999735))
            ThreePointArc((-0.060909, -6.999735), (-0.560734, -6.977505), (-1.057695, -6.91963))
        make_face()
        with BuildLine():
            ThreePointArc((-2.243208, 6.630839), (-1.763846, 6.774131), (-1.275475, 6.882817))
            ThreePointArc((-1.275475, 6.882817), (-1.88533, 7.240694), (-2.243208, 6.630839))
        make_face()
        with BuildLine():
            ThreePointArc((-2.180552, -6.651706), (-1.816937, -7.258158), (-1.210485, -6.894543))
            ThreePointArc((-1.210485, -6.894543), (-1.69986, -6.790469), (-2.180552, -6.651706))
        make_face()
        with BuildLine():
            ThreePointArc((-3.302481, 6.172003), (-2.853188, 6.392129), (-2.38932, 6.579601))
            ThreePointArc((-2.38932, 6.579601), (-3.0497, 6.832383), (-3.302481, 6.172003))
        make_face()
        with BuildLine():
            ThreePointArc((-3.244107, -6.202884), (-2.985107, -6.86085), (-2.327141, -6.601849))
            ThreePointArc((-2.327141, -6.601849), (-2.792757, -6.418762), (-3.244107, -6.202884))
        make_face()
        with BuildLine():
            ThreePointArc((-4.271941, 5.545315), (-3.864936, 5.836289), (-3.438186, 6.097449))
            ThreePointArc((-3.438186, 6.097449), (-4.13113, 6.23826), (-4.271941, 5.545315))
        make_face()
        with BuildLine():
            ThreePointArc((-4.219436, -5.58537), (-4.072094, -6.276955), (-3.380509, -6.129613))
            ThreePointArc((-3.380509, -6.129613), (-3.809704, -5.872492), (-4.219436, -5.58537))
        make_face()
        with BuildLine():
            ThreePointArc((-5.125223, 4.767818), (-4.771573, 5.121727), (-4.393547, 5.449472))
            ThreePointArc((-4.393547, 5.449472), (-5.100212, 5.474483), (-5.125223, 4.767818))
        make_face()
        with BuildLine():
            ThreePointArc((-5.080015, -4.815958), (-5.048338, -5.522355), (-4.341941, -5.490678))
            ThreePointArc((-4.341941, -5.490678), (-4.723042, -5.166515), (-5.080015, -4.815958))
        make_face()
        with BuildLine():
            ThreePointArc((-5.83912, 3.860657), (-5.548444, 4.267876), (-5.229424, 4.653292))
            ThreePointArc((-5.229424, 4.653292), (-5.930589, 4.561823), (-5.83912, 3.860657))
        make_face()
        with BuildLine():
            ThreePointArc((-5.802439, -3.915572), (-5.887289, -4.61757), (-5.185291, -4.70242))
            ThreePointArc((-5.185291, -4.70242), (-5.507934, -4.320031), (-5.802439, -3.915572))
        make_face()
        with BuildLine():
            ThreePointArc((-6.394219, 2.848503), (-6.174421, 3.297957), (-5.923082, 3.730563))
            ThreePointArc((-5.923082, 3.730563), (-6.59968, 3.525101), (-6.394219, 2.848503))
        make_face()
        with BuildLine():
            ThreePointArc((-6.367061, -2.9087), (-6.566131, -3.587206), (-5.887624, -3.786276))
            ThreePointArc((-5.887624, -3.786276), (-6.143033, -3.35606), (-6.367061, -2.9087))
        make_face()
        with BuildLine():
            ThreePointArc((-6.775421, 1.758881), (-6.632481, 2.238347), (-6.455658, 2.706379))
            ThreePointArc((-6.455658, 2.706379), (-7.089288, 2.392512), (-6.775421, 1.758881))
        make_face()
        with BuildLine():
            ThreePointArc((-6.758527, -1.822723), (-7.066402, -2.459286), (-6.429838, -2.767161))
            ThreePointArc((-6.429838, -2.767161), (-6.611069, -2.300819), (-6.758527, -1.822723))
        make_face()
        with BuildLine():
            ThreePointArc((-6.972362, 0.621426), (-6.910165, 1.117864), (-6.812667, 1.608592))
            ThreePointArc((-6.812667, 1.608592), (-7.386098, 1.194857), (-6.972362, 0.621426))
        make_face()
        with BuildLine():
            ThreePointArc((-6.966189, -0.687176), (-7.374497, -1.264484), (-6.797188, -1.672792))
            ThreePointArc((-6.797188, -1.672792), (-6.899311, -1.183006), (-6.966189, -0.687176))
        make_face()
        with BuildLine():
            ThreePointArc((-6.979684, -0.53293), (-6.999922, -0.03302), (-6.984401, 0.467059))
            ThreePointArc((-6.984401, 0.467059), (-7.482037, -0.035294), (-6.979684, -0.53293))
        make_face()
        Polygon((1.758691, -2.984461), (3.463964, 0.030841), (1.705273, 3.015302), (-1.758691, 2.984461), (-3.463964, -0.030841), (-1.705273, -3.015302), align=None)
        Circle(F0_R, mode=Mode.SUBTRACT)
    extrude(amount=F1_DEPTH)

    # F0 (on Top) → F2 (cut)
    with BuildSketch(Plane.XY):
        Polygon((1.758691, -2.984461), (3.463964, 0.030841), (1.705273, 3.015302), (-1.758691, 2.984461), (-3.463964, -0.030841), (-1.705273, -3.015302), align=None)
        Circle(F0_R, mode=Mode.SUBTRACT)
    extrude(amount=F2_DEPTH, mode=Mode.SUBTRACT)


with BuildPart() as f3_1:
    # F3: instance of F1
    add(f1.part.mirror(Plane.XY))


solid = f3_1.part
